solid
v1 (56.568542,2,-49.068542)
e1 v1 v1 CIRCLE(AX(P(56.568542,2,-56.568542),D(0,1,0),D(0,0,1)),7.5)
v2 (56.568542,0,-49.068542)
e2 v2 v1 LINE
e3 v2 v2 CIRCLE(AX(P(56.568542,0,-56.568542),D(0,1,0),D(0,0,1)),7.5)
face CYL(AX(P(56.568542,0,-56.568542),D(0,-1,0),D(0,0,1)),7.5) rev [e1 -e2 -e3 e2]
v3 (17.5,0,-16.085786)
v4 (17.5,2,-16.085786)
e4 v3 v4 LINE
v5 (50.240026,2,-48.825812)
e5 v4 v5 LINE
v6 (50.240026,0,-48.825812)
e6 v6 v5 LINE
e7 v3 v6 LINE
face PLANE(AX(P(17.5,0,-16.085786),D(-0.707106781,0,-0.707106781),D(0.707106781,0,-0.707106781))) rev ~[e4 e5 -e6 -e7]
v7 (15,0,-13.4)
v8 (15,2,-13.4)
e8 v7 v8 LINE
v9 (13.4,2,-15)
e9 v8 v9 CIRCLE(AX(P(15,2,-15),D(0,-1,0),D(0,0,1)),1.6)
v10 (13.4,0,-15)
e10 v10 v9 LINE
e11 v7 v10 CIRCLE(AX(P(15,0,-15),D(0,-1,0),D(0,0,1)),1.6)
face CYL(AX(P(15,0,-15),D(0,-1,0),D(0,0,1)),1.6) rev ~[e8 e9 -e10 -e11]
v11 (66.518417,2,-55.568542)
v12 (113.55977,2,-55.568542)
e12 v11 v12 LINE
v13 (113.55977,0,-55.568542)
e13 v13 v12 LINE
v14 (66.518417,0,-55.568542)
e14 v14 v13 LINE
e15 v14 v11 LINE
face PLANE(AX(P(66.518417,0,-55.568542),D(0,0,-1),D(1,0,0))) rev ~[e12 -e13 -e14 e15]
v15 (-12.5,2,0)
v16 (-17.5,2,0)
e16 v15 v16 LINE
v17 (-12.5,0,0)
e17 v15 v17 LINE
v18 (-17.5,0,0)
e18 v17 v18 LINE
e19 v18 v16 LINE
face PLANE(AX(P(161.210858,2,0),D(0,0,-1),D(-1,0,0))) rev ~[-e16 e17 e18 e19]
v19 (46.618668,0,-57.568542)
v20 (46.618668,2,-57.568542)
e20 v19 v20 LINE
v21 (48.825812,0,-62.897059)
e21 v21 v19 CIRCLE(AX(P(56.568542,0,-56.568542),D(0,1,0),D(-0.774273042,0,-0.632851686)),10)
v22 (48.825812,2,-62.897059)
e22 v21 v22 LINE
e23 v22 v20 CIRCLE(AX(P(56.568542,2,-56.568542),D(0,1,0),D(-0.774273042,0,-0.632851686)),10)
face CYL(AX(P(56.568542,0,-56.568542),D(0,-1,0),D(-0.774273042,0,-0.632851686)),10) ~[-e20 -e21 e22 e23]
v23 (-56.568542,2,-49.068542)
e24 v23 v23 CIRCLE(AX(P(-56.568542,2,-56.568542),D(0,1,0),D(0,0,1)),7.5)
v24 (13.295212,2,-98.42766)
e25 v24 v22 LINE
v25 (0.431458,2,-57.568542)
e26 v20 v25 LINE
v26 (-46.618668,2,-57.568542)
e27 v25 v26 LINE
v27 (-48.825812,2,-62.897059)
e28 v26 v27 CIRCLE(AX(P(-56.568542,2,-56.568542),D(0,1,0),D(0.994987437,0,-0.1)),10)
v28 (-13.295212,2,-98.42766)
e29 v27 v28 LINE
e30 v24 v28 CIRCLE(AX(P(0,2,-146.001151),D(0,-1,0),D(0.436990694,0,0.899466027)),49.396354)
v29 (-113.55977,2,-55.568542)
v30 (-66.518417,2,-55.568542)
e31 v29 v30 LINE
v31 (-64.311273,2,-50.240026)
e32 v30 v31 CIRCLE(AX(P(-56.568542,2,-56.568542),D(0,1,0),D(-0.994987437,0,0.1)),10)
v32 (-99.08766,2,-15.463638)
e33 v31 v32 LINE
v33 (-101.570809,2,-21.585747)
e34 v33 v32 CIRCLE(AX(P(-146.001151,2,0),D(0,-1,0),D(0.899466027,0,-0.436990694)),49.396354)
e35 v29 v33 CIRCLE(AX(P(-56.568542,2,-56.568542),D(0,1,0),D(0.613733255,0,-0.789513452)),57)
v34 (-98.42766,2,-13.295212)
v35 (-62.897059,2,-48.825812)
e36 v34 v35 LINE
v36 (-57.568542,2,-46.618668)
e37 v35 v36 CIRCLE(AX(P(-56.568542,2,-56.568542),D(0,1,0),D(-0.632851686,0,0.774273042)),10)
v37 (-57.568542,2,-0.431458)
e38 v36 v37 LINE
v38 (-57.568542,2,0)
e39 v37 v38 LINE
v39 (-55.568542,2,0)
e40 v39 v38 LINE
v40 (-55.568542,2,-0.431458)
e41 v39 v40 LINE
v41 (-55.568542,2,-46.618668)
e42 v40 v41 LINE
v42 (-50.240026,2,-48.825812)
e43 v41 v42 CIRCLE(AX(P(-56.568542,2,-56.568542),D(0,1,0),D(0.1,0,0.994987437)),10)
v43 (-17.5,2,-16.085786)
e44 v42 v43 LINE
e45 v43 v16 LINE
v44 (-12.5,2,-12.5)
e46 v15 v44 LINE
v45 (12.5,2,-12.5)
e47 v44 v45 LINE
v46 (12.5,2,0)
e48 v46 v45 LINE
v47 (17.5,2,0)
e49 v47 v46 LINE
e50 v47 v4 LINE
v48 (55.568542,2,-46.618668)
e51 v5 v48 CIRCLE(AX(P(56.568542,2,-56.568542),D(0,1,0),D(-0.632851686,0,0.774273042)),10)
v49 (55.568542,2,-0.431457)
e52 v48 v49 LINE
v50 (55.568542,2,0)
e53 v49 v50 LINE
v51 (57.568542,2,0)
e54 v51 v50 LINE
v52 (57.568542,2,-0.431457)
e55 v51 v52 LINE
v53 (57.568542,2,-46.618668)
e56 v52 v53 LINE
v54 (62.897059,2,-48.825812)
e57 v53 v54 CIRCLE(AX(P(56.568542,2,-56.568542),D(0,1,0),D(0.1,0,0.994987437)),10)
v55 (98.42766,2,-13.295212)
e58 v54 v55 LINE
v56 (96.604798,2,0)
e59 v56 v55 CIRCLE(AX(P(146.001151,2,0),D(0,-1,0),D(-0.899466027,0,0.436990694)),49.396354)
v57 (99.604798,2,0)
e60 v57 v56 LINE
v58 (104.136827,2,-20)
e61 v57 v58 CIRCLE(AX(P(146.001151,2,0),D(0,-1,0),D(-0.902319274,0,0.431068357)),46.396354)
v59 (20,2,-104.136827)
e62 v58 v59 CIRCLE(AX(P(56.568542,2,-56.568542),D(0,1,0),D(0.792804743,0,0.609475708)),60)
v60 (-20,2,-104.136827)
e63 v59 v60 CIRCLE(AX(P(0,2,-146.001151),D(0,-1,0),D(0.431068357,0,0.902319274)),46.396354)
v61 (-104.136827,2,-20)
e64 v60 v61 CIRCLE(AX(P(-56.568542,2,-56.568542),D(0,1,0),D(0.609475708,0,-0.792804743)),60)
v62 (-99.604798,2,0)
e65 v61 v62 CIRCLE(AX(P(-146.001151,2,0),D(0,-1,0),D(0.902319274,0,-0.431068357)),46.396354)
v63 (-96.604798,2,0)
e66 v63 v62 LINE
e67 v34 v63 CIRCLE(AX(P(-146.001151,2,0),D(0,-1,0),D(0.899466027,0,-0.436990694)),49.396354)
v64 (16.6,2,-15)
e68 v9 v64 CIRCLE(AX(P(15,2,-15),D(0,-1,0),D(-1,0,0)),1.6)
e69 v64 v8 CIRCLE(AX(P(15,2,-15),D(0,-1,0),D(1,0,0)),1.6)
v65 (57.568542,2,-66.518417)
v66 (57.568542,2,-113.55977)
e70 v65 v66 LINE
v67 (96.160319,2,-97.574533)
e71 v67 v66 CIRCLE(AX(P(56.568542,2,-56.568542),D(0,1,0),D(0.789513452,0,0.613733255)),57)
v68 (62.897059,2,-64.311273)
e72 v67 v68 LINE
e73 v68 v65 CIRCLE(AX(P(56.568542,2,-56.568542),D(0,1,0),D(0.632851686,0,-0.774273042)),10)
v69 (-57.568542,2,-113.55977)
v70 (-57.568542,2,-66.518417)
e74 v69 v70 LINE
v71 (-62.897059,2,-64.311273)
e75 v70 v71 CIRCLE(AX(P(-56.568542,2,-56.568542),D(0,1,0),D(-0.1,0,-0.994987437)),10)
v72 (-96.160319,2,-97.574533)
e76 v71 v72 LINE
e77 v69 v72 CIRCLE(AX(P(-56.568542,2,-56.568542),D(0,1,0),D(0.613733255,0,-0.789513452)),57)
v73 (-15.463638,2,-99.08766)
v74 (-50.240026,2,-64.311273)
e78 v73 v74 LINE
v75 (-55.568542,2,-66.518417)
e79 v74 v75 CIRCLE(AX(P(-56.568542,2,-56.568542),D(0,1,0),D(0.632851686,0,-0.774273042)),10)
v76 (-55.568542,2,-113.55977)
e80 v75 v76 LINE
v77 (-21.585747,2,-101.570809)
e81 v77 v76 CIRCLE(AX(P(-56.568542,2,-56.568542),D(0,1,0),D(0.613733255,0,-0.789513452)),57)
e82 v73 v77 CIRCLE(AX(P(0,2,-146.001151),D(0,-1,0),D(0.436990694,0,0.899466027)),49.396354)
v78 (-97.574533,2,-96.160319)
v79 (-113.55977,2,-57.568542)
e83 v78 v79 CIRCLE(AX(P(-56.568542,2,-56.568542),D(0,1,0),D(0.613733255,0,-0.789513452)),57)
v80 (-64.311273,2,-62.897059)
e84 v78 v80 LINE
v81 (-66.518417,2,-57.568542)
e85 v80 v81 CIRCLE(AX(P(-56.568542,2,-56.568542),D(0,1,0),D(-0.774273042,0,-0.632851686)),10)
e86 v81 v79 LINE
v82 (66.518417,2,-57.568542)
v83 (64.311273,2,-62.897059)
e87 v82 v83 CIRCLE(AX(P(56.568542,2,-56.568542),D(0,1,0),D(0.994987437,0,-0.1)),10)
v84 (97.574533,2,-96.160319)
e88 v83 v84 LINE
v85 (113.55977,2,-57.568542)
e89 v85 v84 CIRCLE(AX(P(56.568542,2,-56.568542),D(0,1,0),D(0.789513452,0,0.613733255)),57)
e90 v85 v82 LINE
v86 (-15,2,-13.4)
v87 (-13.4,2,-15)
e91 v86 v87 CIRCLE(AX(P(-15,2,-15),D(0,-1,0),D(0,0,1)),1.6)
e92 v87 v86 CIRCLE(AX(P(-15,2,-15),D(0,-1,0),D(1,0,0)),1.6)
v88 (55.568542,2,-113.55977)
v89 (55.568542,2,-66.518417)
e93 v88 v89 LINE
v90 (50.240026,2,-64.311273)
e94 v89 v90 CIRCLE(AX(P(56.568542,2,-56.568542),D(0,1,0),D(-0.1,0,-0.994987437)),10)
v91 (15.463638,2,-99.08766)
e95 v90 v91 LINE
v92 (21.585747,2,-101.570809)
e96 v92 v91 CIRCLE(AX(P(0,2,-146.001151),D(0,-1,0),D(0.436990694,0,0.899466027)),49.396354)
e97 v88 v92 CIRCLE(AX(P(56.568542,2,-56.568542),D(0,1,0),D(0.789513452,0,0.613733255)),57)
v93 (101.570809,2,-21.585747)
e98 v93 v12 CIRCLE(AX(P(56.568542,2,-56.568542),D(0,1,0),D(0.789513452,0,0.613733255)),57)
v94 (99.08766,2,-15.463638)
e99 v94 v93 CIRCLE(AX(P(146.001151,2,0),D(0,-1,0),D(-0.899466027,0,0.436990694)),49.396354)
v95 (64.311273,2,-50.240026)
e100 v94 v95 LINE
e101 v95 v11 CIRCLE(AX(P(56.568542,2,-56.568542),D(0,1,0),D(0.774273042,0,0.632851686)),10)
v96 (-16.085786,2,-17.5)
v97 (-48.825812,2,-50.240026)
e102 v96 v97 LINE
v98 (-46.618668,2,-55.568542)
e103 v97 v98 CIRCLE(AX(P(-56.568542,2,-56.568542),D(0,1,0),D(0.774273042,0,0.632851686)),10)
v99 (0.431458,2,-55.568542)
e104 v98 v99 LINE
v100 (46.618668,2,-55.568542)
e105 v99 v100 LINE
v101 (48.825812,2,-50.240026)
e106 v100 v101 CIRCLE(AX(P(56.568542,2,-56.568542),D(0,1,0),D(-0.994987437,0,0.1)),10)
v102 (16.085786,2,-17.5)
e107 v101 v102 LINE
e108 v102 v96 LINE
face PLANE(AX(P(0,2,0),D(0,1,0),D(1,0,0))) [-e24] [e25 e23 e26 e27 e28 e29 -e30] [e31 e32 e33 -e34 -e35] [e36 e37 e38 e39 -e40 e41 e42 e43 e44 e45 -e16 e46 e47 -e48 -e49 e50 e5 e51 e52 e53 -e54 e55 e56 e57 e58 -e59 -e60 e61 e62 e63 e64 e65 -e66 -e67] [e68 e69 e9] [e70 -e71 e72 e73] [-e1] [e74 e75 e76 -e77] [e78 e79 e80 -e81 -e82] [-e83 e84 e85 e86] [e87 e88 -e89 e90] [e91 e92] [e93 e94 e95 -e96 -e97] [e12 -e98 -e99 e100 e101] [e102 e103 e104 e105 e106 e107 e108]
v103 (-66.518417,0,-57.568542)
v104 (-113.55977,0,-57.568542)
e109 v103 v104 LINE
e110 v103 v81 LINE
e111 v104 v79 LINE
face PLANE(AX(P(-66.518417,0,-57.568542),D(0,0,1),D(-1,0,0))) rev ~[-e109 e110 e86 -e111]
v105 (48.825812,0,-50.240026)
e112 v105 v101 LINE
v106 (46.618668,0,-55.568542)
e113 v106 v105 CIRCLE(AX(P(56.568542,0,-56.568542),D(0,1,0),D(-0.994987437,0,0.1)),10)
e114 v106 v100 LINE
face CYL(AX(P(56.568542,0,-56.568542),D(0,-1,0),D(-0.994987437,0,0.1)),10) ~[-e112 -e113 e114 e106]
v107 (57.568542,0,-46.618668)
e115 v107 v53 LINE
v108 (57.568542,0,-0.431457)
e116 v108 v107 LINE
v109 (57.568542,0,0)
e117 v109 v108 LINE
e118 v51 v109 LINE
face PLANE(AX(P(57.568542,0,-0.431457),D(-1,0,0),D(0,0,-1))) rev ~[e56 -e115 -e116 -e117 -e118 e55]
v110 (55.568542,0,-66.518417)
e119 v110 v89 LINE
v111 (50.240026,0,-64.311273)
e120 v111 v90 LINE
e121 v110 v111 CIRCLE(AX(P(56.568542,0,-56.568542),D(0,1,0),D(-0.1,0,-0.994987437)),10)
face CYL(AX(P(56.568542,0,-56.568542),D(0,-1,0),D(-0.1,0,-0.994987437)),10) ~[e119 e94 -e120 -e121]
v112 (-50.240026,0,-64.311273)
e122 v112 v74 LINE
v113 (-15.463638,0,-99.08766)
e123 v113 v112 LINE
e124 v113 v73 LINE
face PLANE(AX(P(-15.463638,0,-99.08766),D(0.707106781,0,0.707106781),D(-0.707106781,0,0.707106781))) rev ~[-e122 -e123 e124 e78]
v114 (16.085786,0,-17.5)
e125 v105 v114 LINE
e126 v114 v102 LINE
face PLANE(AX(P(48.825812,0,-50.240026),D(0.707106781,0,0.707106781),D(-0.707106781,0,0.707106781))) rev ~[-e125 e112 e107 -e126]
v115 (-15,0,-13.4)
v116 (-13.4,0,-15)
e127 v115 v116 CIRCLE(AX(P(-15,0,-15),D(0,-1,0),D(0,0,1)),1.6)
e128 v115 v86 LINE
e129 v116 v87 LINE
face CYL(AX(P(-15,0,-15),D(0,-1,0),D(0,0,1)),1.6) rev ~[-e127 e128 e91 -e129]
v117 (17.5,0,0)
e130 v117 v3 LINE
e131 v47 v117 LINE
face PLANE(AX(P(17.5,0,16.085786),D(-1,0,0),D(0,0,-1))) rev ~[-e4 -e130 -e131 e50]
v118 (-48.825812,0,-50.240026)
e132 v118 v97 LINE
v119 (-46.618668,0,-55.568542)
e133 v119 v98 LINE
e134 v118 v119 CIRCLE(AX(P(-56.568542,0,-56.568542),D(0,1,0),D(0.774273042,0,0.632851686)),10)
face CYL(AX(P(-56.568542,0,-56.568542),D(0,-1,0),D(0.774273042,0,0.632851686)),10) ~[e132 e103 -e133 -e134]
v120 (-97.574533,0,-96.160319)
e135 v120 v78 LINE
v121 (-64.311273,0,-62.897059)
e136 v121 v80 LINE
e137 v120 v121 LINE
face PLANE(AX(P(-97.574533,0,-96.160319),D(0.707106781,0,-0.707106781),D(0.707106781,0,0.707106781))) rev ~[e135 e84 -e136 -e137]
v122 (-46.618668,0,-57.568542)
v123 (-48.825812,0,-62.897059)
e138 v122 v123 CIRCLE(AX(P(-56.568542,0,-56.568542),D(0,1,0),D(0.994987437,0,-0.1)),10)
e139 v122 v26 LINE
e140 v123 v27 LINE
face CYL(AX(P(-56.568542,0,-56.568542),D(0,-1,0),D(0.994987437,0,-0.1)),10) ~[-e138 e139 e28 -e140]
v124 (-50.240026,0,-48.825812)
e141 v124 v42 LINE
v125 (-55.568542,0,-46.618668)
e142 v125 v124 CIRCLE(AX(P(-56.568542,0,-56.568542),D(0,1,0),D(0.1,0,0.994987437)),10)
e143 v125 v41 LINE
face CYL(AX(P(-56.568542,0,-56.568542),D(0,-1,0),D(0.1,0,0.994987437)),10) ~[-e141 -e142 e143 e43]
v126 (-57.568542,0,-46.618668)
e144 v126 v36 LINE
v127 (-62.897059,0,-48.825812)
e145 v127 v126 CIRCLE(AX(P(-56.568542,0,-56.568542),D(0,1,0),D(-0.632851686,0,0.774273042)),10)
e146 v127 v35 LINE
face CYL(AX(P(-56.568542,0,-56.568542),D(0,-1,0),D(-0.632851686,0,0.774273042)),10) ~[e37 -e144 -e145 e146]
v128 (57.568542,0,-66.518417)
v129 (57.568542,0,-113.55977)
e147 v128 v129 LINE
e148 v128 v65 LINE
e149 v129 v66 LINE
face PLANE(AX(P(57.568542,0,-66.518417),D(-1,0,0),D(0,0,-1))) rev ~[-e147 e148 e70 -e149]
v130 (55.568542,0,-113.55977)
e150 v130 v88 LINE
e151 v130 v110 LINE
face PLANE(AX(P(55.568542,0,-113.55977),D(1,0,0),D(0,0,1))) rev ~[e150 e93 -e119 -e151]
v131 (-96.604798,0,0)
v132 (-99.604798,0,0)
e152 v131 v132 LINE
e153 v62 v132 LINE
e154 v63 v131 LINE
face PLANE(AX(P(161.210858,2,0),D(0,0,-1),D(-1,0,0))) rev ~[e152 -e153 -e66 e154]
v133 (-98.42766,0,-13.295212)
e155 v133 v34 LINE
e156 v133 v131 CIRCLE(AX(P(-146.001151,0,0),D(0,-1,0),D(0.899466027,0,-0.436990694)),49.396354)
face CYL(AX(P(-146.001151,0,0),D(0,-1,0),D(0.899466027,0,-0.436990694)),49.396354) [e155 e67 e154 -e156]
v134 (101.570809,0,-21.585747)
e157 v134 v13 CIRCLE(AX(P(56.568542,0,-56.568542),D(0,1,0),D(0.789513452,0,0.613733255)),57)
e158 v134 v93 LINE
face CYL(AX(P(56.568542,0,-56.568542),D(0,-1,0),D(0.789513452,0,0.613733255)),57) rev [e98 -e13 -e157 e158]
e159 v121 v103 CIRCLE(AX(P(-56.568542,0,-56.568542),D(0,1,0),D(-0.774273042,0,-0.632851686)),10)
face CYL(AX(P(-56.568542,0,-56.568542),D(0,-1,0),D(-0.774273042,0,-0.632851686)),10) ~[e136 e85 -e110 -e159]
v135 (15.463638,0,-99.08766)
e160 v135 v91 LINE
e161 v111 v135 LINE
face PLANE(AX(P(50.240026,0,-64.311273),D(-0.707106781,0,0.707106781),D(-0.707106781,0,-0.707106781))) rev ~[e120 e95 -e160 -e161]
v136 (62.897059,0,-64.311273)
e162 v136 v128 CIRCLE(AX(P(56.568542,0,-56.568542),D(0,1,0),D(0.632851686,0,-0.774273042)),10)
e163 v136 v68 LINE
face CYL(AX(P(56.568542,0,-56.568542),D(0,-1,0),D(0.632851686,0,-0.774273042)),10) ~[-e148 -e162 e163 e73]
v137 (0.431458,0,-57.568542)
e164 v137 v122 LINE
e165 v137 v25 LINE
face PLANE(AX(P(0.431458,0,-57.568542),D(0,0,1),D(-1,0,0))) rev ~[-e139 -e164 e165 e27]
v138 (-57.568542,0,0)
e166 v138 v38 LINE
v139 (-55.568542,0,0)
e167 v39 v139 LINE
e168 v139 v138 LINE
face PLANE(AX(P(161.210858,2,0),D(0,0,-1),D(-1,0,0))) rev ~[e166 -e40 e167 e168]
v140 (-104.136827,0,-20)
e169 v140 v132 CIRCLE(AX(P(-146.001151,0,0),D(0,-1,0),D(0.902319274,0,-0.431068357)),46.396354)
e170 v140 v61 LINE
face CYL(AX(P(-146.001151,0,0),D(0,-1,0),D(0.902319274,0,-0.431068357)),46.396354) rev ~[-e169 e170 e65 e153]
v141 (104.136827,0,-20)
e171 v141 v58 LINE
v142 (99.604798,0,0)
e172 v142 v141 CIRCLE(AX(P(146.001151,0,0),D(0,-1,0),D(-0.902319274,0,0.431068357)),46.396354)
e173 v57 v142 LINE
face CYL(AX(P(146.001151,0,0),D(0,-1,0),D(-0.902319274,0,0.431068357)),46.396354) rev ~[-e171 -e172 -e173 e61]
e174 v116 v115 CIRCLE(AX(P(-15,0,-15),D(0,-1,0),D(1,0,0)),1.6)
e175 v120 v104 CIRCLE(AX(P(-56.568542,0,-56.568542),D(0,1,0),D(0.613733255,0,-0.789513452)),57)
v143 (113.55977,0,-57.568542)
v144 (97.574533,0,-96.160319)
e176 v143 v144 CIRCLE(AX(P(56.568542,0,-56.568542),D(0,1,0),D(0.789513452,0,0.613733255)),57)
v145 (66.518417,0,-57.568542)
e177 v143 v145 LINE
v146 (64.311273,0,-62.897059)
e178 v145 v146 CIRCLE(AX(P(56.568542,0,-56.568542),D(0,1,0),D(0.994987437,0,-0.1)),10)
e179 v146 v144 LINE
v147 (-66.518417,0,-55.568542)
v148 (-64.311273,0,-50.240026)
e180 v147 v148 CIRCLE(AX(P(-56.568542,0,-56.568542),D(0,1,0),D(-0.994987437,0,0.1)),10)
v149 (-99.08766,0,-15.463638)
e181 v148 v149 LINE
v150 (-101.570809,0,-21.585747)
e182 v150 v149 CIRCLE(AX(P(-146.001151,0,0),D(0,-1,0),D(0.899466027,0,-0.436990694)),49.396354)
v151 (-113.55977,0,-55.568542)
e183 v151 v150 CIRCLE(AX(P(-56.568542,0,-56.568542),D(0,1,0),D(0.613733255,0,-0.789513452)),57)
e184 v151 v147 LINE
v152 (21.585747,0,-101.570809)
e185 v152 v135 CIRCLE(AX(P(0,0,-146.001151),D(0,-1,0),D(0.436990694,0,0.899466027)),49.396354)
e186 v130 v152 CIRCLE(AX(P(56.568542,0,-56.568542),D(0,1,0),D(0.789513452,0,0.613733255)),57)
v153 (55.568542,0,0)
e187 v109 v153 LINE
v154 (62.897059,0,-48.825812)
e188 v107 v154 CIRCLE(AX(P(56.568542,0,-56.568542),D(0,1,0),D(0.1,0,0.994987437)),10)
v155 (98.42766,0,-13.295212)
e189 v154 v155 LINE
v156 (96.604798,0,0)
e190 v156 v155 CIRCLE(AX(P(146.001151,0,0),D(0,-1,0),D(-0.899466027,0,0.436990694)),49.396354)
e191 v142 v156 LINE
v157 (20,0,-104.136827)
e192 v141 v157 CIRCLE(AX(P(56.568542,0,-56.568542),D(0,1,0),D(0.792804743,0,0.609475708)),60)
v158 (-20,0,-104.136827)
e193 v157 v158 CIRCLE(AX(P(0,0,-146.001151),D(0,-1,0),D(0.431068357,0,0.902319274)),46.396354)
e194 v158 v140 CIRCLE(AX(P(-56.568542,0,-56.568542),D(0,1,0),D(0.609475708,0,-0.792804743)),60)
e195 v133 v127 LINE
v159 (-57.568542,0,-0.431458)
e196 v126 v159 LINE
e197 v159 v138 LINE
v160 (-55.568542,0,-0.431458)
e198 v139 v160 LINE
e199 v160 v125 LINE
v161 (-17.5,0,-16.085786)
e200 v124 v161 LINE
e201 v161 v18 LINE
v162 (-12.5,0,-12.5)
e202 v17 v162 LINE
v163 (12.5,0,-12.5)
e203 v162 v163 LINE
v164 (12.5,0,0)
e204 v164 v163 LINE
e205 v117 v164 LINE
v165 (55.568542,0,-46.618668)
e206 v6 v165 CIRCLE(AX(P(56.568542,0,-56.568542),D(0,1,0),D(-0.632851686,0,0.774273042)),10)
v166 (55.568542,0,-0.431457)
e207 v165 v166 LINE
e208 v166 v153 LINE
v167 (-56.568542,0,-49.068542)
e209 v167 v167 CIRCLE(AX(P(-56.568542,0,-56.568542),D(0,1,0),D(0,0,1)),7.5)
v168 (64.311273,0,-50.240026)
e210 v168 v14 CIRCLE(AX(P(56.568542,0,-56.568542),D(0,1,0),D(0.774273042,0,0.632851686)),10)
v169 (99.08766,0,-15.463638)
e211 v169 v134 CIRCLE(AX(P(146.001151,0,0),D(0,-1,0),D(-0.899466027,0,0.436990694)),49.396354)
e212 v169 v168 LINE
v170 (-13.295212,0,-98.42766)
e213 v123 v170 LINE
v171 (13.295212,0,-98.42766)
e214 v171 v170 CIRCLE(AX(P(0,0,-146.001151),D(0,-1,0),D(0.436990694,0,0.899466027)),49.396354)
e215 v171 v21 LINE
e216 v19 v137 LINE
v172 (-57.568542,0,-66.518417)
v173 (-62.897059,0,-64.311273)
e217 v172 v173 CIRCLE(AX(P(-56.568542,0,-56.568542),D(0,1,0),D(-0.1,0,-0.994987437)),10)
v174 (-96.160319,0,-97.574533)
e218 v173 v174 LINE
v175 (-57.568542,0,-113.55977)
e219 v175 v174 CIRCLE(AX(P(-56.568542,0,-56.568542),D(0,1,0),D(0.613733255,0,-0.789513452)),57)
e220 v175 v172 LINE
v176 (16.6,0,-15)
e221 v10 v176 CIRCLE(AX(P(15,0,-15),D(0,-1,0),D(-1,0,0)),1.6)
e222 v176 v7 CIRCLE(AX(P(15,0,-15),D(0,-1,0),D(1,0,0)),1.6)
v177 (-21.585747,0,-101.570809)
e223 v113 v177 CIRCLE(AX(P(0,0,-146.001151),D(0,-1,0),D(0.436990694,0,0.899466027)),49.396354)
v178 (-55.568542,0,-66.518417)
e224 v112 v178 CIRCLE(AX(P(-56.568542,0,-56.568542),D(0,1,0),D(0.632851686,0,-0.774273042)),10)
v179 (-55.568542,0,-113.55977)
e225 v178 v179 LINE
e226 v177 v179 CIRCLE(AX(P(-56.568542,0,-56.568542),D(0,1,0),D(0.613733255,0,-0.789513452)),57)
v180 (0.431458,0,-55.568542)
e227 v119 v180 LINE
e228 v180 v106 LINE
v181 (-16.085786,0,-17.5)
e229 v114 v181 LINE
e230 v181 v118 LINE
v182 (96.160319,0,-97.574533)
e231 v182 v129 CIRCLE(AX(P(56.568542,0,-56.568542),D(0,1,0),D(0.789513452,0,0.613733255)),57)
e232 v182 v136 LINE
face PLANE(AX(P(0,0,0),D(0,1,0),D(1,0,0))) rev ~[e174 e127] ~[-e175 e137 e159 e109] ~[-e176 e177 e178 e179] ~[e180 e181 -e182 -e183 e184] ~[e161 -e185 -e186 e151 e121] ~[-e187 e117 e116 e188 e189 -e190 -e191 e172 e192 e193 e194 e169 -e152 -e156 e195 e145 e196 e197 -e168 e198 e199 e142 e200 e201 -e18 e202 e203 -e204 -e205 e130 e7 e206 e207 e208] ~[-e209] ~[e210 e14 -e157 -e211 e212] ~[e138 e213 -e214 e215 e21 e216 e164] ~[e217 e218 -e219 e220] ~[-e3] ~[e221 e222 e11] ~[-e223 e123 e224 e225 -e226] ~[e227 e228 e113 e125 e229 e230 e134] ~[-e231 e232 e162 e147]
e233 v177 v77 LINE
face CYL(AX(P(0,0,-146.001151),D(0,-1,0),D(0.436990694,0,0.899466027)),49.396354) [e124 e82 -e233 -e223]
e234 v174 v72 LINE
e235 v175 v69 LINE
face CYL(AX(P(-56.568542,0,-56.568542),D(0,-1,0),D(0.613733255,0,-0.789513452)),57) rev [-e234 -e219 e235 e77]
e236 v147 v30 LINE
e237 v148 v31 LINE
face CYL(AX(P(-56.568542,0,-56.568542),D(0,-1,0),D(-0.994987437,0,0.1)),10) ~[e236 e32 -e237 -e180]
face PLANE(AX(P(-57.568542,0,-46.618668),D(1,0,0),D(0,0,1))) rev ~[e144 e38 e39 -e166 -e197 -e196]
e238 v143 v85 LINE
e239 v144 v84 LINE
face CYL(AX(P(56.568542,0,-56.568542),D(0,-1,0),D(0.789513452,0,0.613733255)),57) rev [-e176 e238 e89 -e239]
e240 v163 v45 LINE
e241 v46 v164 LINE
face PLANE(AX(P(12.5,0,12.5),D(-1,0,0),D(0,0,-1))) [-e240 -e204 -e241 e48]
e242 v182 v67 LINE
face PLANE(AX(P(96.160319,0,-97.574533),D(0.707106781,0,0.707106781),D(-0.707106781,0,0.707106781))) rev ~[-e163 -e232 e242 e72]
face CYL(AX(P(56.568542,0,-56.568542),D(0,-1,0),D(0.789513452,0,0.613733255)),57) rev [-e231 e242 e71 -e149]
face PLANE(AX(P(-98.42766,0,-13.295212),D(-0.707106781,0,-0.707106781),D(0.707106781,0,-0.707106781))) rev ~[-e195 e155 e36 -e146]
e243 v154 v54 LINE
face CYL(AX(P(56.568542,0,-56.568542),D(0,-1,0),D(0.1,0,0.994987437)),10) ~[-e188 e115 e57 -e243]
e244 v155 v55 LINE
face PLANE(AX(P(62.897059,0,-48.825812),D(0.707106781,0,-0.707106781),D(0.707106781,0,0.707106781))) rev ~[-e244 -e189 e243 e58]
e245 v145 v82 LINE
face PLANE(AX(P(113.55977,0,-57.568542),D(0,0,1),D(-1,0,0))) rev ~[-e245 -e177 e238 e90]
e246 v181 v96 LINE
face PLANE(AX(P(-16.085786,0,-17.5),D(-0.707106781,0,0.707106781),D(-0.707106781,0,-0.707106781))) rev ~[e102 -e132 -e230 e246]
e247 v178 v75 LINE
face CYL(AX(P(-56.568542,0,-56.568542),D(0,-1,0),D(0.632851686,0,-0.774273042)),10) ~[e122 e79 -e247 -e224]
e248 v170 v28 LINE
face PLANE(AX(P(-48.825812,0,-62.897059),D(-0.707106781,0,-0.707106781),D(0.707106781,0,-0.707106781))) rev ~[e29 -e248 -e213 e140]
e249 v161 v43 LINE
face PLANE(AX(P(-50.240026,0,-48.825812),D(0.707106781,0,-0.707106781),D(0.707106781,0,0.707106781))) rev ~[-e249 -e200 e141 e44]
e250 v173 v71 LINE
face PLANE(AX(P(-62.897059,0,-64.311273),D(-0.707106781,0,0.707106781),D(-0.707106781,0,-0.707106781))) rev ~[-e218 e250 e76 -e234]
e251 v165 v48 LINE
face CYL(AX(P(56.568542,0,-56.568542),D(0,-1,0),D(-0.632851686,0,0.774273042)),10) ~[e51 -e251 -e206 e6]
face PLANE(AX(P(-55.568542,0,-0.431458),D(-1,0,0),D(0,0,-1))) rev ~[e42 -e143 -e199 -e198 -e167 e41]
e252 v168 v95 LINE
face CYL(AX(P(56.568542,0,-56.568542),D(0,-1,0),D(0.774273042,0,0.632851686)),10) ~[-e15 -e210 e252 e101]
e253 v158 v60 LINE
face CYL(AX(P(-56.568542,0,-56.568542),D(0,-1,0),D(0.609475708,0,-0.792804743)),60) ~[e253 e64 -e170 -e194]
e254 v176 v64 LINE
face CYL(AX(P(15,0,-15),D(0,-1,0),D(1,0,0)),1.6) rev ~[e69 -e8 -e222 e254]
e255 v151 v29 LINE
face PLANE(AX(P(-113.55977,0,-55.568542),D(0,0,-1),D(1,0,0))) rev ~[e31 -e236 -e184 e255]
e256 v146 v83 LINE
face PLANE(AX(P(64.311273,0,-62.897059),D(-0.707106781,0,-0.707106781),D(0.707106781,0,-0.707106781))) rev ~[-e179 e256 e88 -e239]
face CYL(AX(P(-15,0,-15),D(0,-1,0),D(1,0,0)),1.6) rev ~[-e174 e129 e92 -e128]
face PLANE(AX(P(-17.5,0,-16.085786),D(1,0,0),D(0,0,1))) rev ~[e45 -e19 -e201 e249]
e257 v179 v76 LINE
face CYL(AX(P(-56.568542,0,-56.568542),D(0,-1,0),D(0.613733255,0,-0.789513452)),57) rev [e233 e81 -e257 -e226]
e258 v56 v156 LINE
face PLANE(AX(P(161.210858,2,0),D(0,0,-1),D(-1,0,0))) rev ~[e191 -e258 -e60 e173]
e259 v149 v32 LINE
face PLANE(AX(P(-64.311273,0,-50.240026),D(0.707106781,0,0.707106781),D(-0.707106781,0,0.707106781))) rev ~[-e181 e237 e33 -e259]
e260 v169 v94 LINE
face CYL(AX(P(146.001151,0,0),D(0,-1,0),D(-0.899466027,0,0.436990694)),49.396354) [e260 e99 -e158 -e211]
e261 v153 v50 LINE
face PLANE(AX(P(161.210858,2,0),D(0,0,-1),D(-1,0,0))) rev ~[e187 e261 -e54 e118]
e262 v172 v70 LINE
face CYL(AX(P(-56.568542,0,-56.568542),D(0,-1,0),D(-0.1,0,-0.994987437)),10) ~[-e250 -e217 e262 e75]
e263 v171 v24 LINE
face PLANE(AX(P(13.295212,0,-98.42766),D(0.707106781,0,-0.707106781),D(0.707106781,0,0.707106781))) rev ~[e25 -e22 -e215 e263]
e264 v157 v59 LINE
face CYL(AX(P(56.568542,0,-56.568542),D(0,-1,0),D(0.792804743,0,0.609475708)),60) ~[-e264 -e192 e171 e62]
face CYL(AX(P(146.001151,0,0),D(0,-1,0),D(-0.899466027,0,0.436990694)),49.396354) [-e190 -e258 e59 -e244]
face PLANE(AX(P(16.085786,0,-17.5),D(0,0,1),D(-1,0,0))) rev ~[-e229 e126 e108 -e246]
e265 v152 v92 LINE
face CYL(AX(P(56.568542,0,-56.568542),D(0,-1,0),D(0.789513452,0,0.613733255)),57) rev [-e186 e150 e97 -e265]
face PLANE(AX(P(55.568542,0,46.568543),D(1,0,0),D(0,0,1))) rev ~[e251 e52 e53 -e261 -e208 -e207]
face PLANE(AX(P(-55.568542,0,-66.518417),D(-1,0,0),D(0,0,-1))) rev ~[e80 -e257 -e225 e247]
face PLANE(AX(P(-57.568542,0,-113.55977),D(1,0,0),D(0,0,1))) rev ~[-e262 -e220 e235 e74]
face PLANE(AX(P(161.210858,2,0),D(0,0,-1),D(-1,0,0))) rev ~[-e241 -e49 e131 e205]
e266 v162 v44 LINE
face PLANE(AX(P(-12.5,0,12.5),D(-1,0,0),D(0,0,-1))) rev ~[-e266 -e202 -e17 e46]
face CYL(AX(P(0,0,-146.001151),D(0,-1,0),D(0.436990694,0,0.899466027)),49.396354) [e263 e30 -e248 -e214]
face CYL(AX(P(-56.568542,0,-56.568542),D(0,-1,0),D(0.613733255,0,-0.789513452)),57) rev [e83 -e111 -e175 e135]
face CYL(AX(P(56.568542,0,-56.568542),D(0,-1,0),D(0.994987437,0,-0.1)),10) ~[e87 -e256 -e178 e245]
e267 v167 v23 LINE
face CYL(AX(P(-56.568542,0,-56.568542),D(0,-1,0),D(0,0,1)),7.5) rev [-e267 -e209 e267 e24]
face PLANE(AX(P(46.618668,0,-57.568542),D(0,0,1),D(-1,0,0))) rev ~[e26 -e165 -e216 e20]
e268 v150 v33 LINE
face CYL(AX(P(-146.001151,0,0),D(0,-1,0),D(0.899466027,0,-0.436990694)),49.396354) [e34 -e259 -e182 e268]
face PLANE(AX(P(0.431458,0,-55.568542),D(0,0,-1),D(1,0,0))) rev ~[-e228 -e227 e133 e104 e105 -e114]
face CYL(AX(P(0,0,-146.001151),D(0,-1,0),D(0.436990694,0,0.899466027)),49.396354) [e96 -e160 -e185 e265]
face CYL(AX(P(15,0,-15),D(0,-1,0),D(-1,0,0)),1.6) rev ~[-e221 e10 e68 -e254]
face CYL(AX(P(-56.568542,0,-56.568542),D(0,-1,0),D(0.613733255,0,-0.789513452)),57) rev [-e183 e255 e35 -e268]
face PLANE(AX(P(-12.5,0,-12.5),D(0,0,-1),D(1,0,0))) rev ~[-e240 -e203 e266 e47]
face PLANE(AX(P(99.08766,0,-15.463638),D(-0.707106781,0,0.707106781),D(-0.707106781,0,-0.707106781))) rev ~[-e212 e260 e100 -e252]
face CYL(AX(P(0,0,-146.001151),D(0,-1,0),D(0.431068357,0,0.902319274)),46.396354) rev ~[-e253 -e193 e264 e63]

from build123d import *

# Parameters (mm, degrees)
BOSS_EXTRUDE1_DEPTH = 2
BOSS_EXTRUDE3_START = -2
SKETCH2_R           = 7.5
SKETCH2_R_2         = 7.500000001
SKETCH2_W           = 25
SKETCH2_H           = 25
SKETCH2_R_3         = 7.499999999
BOSS_EXTRUDE3_DEPTH = 2
CUT_EXTRUDE1_DEPTH  = 140


with BuildPart() as part:
    # Sketch1 → Boss-Extrude1 (new body)
    with BuildSketch(Plane(origin=(0, 0, 0), x_dir=(1, 0, 0), z_dir=(0, 1, 0))):
        with BuildLine():
            ThreePointArc((-20, -104.136827095), (0, -99.604797561), (20, -104.136827095))
            ThreePointArc((20, -104.136827095), (98.994949366, -98.994949366), (104.136827095, -20))
            ThreePointArc((104.136827095, -20), (99.604797561, 0), (104.136827095, 20))
            ThreePointArc((104.136827095, 20), (98.994949366, 98.994949366), (20, 104.136827095))
            ThreePointArc((20, 104.136827095), (0, 99.604797561), (-20, 104.136827095))
            ThreePointArc((-20, 104.136827095), (-98.994949366, 98.994949366), (-104.136827095, 20))
            ThreePointArc((-104.136827095, 20), (-99.604797561, 0), (-104.136827095, -20))
            ThreePointArc((-104.136827095, -20), (-98.994949366, -98.994949366), (-20, -104.136827095))
        make_face()
        with BuildLine():
            ThreePointArc((21.585746938, 101.570809271), (0, 96.604797561), (-21.585746938, 101.570809271))
            ThreePointArc((-21.585746938, 101.570809271), (-96.873629023, 96.873629023), (-101.570809271, 21.585746938))
            ThreePointArc((-101.570809271, 21.585746938), (-96.604797561, 0), (-101.570809271, -21.585746938))
            ThreePointArc((-101.570809271, -21.585746938), (-96.873629023, -96.873629023), (-21.585746938, -101.570809271))
            ThreePointArc((-21.585746938, -101.570809271), (0, -96.604797561), (21.585746938, -101.570809271))
            ThreePointArc((21.585746938, -101.570809271), (96.873629023, -96.873629023), (101.570809271, -21.585746938))
            ThreePointArc((101.570809271, -21.585746938), (96.604797561, 0), (101.570809271, 21.585746938))
            ThreePointArc((101.570809271, 21.585746938), (96.873629023, 96.873629023), (21.585746938, 101.570809271))
        make_face(mode=Mode.SUBTRACT)
    extrude(amount=BOSS_EXTRUDE1_DEPTH)

    # Sketch2 → Boss-Extrude3 (add)
    with BuildSketch(Plane(origin=(0, 2, 0), x_dir=(1, 0, 0), z_dir=(0, 1, 0)).offset(BOSS_EXTRUDE3_START)):
        with BuildLine():
            ThreePointArc((-96.873629023, 96.873629023), (-97.225645195, 96.518511206), (-97.574532635, 96.160319073))
            Line((-97.574532635, 96.160319073), (-64.311272916, 62.897059353))
            ThreePointArc((-64.311272916, 62.897059353), (-65.80733782, 60.395376819), (-66.518416866, 57.568542495))
            Line((-66.518416866, 57.568542495), (-113.55976989, 57.568542495))
            ThreePointArc((-113.55976989, 57.568542495), (-113.568542495, 56.568542495), (-113.55976989, 55.568542495))
            Line((-113.55976989, 55.568542495), (-66.518416866, 55.568542495))
            ThreePointArc((-66.518416866, 55.568542495), (-65.80733782, 52.741708171), (-64.311272916, 50.240025637))
            Line((-64.311272916, 50.240025637), (-99.087660161, 15.463638392))
            ThreePointArc((-99.087660161, 15.463638392), (-98.745220484, 14.383211249), (-98.427659658, 13.29521177))
            Line((-98.427659658, 13.29521177), (-62.897059354, 48.825812074))
            ThreePointArc((-62.897059354, 48.825812074), (-60.395376819, 47.32974717), (-57.568542495, 46.618668124))
            Line((-57.568542495, 46.618668124), (-57.568542495, 0.431457505))
            Line((-57.568542494, 0.431457505), (-57.568542494, -46.568542495))
            Line((-57.568542495, -46.568542495), (-57.568542495, -46.618668125))
            ThreePointArc((-57.568542495, -46.618668125), (-60.395376818, -47.329747171), (-62.897059353, -48.825812075))
            Line((-62.897059353, -48.825812075), (-98.427659658, -13.29521177))
            ThreePointArc((-98.427659658, -13.29521177), (-98.745220484, -14.383211249), (-99.087660161, -15.463638392))
            Line((-99.087660161, -15.463638392), (-64.311272915, -50.240025637))
            ThreePointArc((-64.311272915, -50.240025637), (-65.80733782, -52.741708172), (-66.518416866, -55.568542496))
            Line((-66.518416866, -55.568542496), (-113.55976989, -55.568542496))
            ThreePointArc((-113.55976989, -55.568542496), (-113.568542495, -56.568542496), (-113.55976989, -57.568542496))
            Line((-113.55976989, -57.568542496), (-66.518416866, -57.568542496))
            ThreePointArc((-66.518416866, -57.568542496), (-65.80733782, -60.395376819), (-64.311272916, -62.897059354))
            Line((-64.311272916, -62.897059354), (-97.574532635, -96.160319074))
            ThreePointArc((-97.574532635, -96.160319074), (-96.873629022, -96.873629023), (-96.160319072, -97.574532636))
            Line((-96.160319072, -97.574532636), (-62.897059353, -64.311272917))
            ThreePointArc((-62.897059353, -64.311272917), (-60.395376818, -65.807337821), (-57.568542495, -66.518416867))
            Line((-57.568542495, -66.518416867), (-57.568542495, -113.55976989))
            ThreePointArc((-57.568542495, -113.55976989), (-56.568542495, -113.568542495), (-55.568542495, -113.55976989))
            Line((-55.568542495, -113.55976989), (-55.568542495, -66.518416867))
            ThreePointArc((-55.568542495, -66.518416867), (-52.741708171, -65.807337821), (-50.240025636, -64.311272917))
            Line((-50.240025636, -64.311272917), (-15.463638392, -99.087660161))
            ThreePointArc((-15.463638392, -99.087660161), (-14.383211249, -98.745220484), (-13.295211771, -98.427659658))
            Line((-13.295211771, -98.427659658), (-48.825812074, -62.897059354))
            ThreePointArc((-48.825812074, -62.897059354), (-47.329747169, -60.395376819), (-46.618668124, -57.568542495))
            Line((-46.618668124, -57.568542495), (-46.568542618, -57.568542495))
            Line((-46.568542618, -57.568542496), (0.431457381, -57.568542496))
            Line((0.431457381, -57.568542495), (46.618668125, -57.568542495))
            ThreePointArc((46.618668125, -57.568542495), (47.329747171, -60.395376819), (48.825812075, -62.897059354))
            Line((48.825812075, -62.897059354), (13.295211771, -98.427659658))
            ThreePointArc((13.295211771, -98.427659658), (14.38321125, -98.745220484), (15.463638393, -99.087660161))
            Line((15.463638393, -99.087660161), (50.240025637, -64.311272916))
            ThreePointArc((50.240025637, -64.311272916), (52.741708172, -65.807337821), (55.568542496, -66.518416867))
            Line((55.568542496, -66.518416867), (55.568542496, -113.55976989))
            ThreePointArc((55.568542496, -113.55976989), (56.568542496, -113.568542495), (57.568542496, -113.55976989))
            Line((57.568542496, -113.55976989), (57.568542496, -66.518416867))
            ThreePointArc((57.568542496, -66.518416867), (60.39537682, -65.807337821), (62.897059355, -64.311272916))
            Line((62.897059355, -64.311272916), (96.160319073, -97.574532635))
            ThreePointArc((96.160319073, -97.574532635), (96.873629023, -96.873629022), (97.574532636, -96.160319073))
            Line((97.574532636, -96.160319073), (64.311272917, -62.897059354))
            ThreePointArc((64.311272917, -62.897059354), (65.807337821, -60.395376819), (66.518416867, -57.568542496))
            Line((66.518416867, -57.568542496), (113.55976989, -57.568542496))
            ThreePointArc((113.55976989, -57.568542496), (113.568542495, -56.568542496), (113.55976989, -55.568542496))
            Line((113.55976989, -55.568542496), (66.518416867, -55.568542496))
            ThreePointArc((66.518416867, -55.568542496), (65.807337821, -52.741708172), (64.311272917, -50.240025637))
            Line((64.311272917, -50.240025637), (99.087660161, -15.463638393))
            ThreePointArc((99.087660161, -15.463638393), (98.745220484, -14.38321125), (98.427659658, -13.295211771))
            Line((98.427659658, -13.295211771), (62.897059355, -48.825812075))
            ThreePointArc((62.897059355, -48.825812075), (60.39537682, -47.32974717), (57.568542495, -46.618668124))
            Line((57.568542495, -46.618668124), (57.568542495, -46.568542603))
            Line((57.568542496, -46.568542603), (57.568542496, 0.431457382))
            Line((57.568542495, 0.431457382), (57.568542495, 46.618668124))
            ThreePointArc((57.568542495, 46.618668124), (60.395376819, 47.32974717), (62.897059354, 48.825812074))
            Line((62.897059354, 48.825812074), (98.427659658, 13.295211771))
            ThreePointArc((98.427659658, 13.295211771), (98.745220484, 14.383211249), (99.087660161, 15.463638392))
            Line((99.087660161, 15.463638392), (64.311272917, 50.240025636))
            ThreePointArc((64.311272917, 50.240025636), (65.807337821, 52.741708171), (66.518416867, 55.568542495))
            Line((66.518416867, 55.568542495), (113.55976989, 55.568542495))
            ThreePointArc((113.55976989, 55.568542495), (113.568542495, 56.568542495), (113.55976989, 57.568542495))
            Line((113.55976989, 57.568542495), (66.518416867, 57.568542495))
            ThreePointArc((66.518416867, 57.568542495), (65.807337821, 60.395376819), (64.311272917, 62.897059354))
            Line((64.311272917, 62.897059354), (97.574532636, 96.160319073))
            ThreePointArc((97.574532636, 96.160319073), (96.873629023, 96.873629022), (96.160319073, 97.574532635))
            Line((96.160319073, 97.574532635), (62.897059354, 64.311272916))
            ThreePointArc((62.897059354, 64.311272916), (60.395376819, 65.80733782), (57.568542496, 66.518416866))
            Line((57.568542496, 66.518416866), (57.568542496, 113.55976989))
            ThreePointArc((57.568542496, 113.55976989), (56.568542496, 113.568542495), (55.568542496, 113.55976989))
            Line((55.568542496, 113.55976989), (55.568542496, 66.518416866))
            ThreePointArc((55.568542496, 66.518416866), (52.741708172, 65.80733782), (50.240025637, 64.311272916))
            Line((50.240025637, 64.311272916), (15.463638393, 99.087660161))
            ThreePointArc((15.463638393, 99.087660161), (14.38321125, 98.745220484), (13.295211771, 98.427659658))
            Line((13.295211771, 98.427659658), (48.825812075, 62.897059354))
            ThreePointArc((48.825812075, 62.897059354), (47.329747171, 60.395376819), (46.618668125, 57.568542496))
            Line((46.618668125, 57.568542496), (0.431457505, 57.568542496))
            Line((0.431457505, 57.568542495), (-46.568542493, 57.568542495))
            Line((-46.568542493, 57.568542495), (-46.618668124, 57.568542495))
            ThreePointArc((-46.618668124, 57.568542495), (-47.32974717, 60.395376818), (-48.825812074, 62.897059353))
            Line((-48.825812074, 62.897059353), (-13.29521177, 98.427659657))
            ThreePointArc((-13.29521177, 98.427659657), (-14.383211248, 98.745220484), (-15.463638391, 99.087660161))
            Line((-15.463638391, 99.087660161), (-50.240025636, 64.311272916))
            ThreePointArc((-50.240025636, 64.311272916), (-52.741708171, 65.80733782), (-55.568542495, 66.518416866))
            Line((-55.568542495, 66.518416866), (-55.568542495, 113.55976989))
            ThreePointArc((-55.568542495, 113.55976989), (-56.568542495, 113.568542495), (-57.568542495, 113.55976989))
            Line((-57.568542495, 113.55976989), (-57.568542495, 66.518416866))
            ThreePointArc((-57.568542495, 66.518416866), (-60.395376819, 65.80733782), (-62.897059353, 64.311272916))
            Line((-62.897059353, 64.311272916), (-96.160319073, 97.574532635))
            ThreePointArc((-96.160319073, 97.574532635), (-96.518511206, 97.225645195), (-96.873629023, 96.873629023))
        make_face()
        with Locations(Location((-56.568542495, -56.568542496, 0), (0, 0, 270))):
            Circle(SKETCH2_R, mode=Mode.SUBTRACT)
        with BuildLine():
            Line((-17.5, 16.085786437), (-17.5, -16.085786439))
            Line((-17.5, -16.085786439), (-50.240025636, -48.825812075))
            ThreePointArc((-50.240025636, -48.825812075), (-52.741708171, -47.329747171), (-55.568542495, -46.618668125))
            Line((-55.568542495, -46.618668125), (-55.568542495, -46.568542494))
            Line((-55.568542494, -46.568542494), (-55.568542494, 0.431457505))
            Line((-55.568542495, 0.431457505), (-55.568542495, 46.618668124))
            ThreePointArc((-55.568542495, 46.618668124), (-52.741708172, 47.32974717), (-50.240025637, 48.825812074))
            Line((-50.240025637, 48.825812074), (-17.5, 16.085786437))
        make_face(mode=Mode.SUBTRACT)
        with BuildLine():
            ThreePointArc((-15, -13.4), (-13.86862915, -13.86862915), (-13.4, -15))
            ThreePointArc((-13.4, -15), (-16.13137085, -16.13137085), (-15, -13.4))
        make_face(mode=Mode.SUBTRACT)
        with BuildLine():
            Line((-16.085786436, -17.5), (16.085786439, -17.5))
            Line((16.085786439, -17.5), (48.825812075, -50.240025637))
            ThreePointArc((48.825812075, -50.240025637), (47.329747171, -52.741708172), (46.618668125, -55.568542495))
            Line((46.618668125, -55.568542495), (0.431457395, -55.568542495))
            Line((0.431457395, -55.568542496), (-46.568542604, -55.568542496))
            Line((-46.568542604, -55.568542495), (-46.618668124, -55.568542495))
            ThreePointArc((-46.618668124, -55.568542495), (-47.32974717, -52.741708172), (-48.825812073, -50.240025638))
            Line((-48.825812073, -50.240025638), (-16.085786436, -17.5))
        make_face(mode=Mode.SUBTRACT)
        with Locations(Location((56.568542496, -56.568542497, 0), (0, 0, 270))):
            Circle(SKETCH2_R_2, mode=Mode.SUBTRACT)
        with BuildLine():
            ThreePointArc((16.6, -15), (15, -16.6), (13.4, -15))
            ThreePointArc((13.4, -15), (13.86862915, -13.86862915), (15, -13.4))
            ThreePointArc((15, -13.4), (16.13137085, -13.86862915), (16.6, -15))
        make_face(mode=Mode.SUBTRACT)
        Rectangle(SKETCH2_W, SKETCH2_H, mode=Mode.SUBTRACT)
        with BuildLine():
            ThreePointArc((-15, 13.4), (-16.13137085, 16.13137085), (-13.4, 15))
            ThreePointArc((-13.4, 15), (-13.86862915, 13.86862915), (-15, 13.4))
        make_face(mode=Mode.SUBTRACT)
        with Locations(Location((-56.568542494, 56.568542495, 0), (0, 0, 270))):
            Circle(SKETCH2_R_3, mode=Mode.SUBTRACT)
        with BuildLine():
            ThreePointArc((16.6, 15), (16.13137085, 13.86862915), (15, 13.4))
            ThreePointArc((15, 13.4), (13.86862915, 13.86862915), (13.4, 15))
            ThreePointArc((13.4, 15), (15, 16.6), (16.6, 15))
        make_face(mode=Mode.SUBTRACT)
        with BuildLine():
            Line((50.240025638, -48.825812074), (17.5, -16.085786437))
            Line((17.5, -16.085786437), (17.5, 16.085786438))
            Line((17.5, 16.085786438), (50.240025637, 48.825812075))
            ThreePointArc((50.240025637, 48.825812075), (52.741708172, 47.32974717), (55.568542495, 46.618668124))
            Line((55.568542495, 46.618668124), (55.568542495, 0.431457395))
            Line((55.568542496, 0.431457395), (55.568542496, -46.56854259))
            Line((55.568542495, -46.56854259), (55.568542495, -46.618668124))
            ThreePointArc((55.568542495, -46.618668124), (52.741708172, -47.32974717), (50.240025638, -48.825812074))
        make_face(mode=Mode.SUBTRACT)
        with BuildLine():
            Line((48.825812075, 50.240025637), (16.085786438, 17.5))
            Line((16.085786438, 17.5), (-16.085786438, 17.5))
            Line((-16.085786438, 17.5), (-48.825812074, 50.240025636))
            ThreePointArc((-48.825812074, 50.240025636), (-47.32974717, 52.741708171), (-46.618668124, 55.568542495))
            Line((-46.618668124, 55.568542495), (-46.568542493, 55.568542495))
            Line((-46.568542493, 55.568542495), (0.431457505, 55.568542495))
            Line((0.431457505, 55.568542496), (46.618668125, 55.568542496))
            ThreePointArc((46.618668125, 55.568542496), (47.329747171, 52.741708172), (48.825812075, 50.240025637))
        make_face(mode=Mode.SUBTRACT)
        with Locations(Location((56.568542496, 56.568542494, 0), (0, 0, 270))):
            Circle(SKETCH2_R_2, mode=Mode.SUBTRACT)
    extrude(amount=BOSS_EXTRUDE3_DEPTH)

    # Sketch3 → Cut-Extrude1 (cut, symmetric)
    with BuildSketch(Plane(origin=(0, 2, 0), x_dir=(1, 0, 0), z_dir=(0, 1, 0))):
        Polygon((0, 0), (161.210858438, 0), (161.210858438, -128.045511529), (-148.172849587, -128.045511529), (-148.172849587, -116.600102678), (-171.421336318, 0), align=None)
    extrude(amount=CUT_EXTRUDE1_DEPTH, both=True, mode=Mode.SUBTRACT)


solid = part.part
